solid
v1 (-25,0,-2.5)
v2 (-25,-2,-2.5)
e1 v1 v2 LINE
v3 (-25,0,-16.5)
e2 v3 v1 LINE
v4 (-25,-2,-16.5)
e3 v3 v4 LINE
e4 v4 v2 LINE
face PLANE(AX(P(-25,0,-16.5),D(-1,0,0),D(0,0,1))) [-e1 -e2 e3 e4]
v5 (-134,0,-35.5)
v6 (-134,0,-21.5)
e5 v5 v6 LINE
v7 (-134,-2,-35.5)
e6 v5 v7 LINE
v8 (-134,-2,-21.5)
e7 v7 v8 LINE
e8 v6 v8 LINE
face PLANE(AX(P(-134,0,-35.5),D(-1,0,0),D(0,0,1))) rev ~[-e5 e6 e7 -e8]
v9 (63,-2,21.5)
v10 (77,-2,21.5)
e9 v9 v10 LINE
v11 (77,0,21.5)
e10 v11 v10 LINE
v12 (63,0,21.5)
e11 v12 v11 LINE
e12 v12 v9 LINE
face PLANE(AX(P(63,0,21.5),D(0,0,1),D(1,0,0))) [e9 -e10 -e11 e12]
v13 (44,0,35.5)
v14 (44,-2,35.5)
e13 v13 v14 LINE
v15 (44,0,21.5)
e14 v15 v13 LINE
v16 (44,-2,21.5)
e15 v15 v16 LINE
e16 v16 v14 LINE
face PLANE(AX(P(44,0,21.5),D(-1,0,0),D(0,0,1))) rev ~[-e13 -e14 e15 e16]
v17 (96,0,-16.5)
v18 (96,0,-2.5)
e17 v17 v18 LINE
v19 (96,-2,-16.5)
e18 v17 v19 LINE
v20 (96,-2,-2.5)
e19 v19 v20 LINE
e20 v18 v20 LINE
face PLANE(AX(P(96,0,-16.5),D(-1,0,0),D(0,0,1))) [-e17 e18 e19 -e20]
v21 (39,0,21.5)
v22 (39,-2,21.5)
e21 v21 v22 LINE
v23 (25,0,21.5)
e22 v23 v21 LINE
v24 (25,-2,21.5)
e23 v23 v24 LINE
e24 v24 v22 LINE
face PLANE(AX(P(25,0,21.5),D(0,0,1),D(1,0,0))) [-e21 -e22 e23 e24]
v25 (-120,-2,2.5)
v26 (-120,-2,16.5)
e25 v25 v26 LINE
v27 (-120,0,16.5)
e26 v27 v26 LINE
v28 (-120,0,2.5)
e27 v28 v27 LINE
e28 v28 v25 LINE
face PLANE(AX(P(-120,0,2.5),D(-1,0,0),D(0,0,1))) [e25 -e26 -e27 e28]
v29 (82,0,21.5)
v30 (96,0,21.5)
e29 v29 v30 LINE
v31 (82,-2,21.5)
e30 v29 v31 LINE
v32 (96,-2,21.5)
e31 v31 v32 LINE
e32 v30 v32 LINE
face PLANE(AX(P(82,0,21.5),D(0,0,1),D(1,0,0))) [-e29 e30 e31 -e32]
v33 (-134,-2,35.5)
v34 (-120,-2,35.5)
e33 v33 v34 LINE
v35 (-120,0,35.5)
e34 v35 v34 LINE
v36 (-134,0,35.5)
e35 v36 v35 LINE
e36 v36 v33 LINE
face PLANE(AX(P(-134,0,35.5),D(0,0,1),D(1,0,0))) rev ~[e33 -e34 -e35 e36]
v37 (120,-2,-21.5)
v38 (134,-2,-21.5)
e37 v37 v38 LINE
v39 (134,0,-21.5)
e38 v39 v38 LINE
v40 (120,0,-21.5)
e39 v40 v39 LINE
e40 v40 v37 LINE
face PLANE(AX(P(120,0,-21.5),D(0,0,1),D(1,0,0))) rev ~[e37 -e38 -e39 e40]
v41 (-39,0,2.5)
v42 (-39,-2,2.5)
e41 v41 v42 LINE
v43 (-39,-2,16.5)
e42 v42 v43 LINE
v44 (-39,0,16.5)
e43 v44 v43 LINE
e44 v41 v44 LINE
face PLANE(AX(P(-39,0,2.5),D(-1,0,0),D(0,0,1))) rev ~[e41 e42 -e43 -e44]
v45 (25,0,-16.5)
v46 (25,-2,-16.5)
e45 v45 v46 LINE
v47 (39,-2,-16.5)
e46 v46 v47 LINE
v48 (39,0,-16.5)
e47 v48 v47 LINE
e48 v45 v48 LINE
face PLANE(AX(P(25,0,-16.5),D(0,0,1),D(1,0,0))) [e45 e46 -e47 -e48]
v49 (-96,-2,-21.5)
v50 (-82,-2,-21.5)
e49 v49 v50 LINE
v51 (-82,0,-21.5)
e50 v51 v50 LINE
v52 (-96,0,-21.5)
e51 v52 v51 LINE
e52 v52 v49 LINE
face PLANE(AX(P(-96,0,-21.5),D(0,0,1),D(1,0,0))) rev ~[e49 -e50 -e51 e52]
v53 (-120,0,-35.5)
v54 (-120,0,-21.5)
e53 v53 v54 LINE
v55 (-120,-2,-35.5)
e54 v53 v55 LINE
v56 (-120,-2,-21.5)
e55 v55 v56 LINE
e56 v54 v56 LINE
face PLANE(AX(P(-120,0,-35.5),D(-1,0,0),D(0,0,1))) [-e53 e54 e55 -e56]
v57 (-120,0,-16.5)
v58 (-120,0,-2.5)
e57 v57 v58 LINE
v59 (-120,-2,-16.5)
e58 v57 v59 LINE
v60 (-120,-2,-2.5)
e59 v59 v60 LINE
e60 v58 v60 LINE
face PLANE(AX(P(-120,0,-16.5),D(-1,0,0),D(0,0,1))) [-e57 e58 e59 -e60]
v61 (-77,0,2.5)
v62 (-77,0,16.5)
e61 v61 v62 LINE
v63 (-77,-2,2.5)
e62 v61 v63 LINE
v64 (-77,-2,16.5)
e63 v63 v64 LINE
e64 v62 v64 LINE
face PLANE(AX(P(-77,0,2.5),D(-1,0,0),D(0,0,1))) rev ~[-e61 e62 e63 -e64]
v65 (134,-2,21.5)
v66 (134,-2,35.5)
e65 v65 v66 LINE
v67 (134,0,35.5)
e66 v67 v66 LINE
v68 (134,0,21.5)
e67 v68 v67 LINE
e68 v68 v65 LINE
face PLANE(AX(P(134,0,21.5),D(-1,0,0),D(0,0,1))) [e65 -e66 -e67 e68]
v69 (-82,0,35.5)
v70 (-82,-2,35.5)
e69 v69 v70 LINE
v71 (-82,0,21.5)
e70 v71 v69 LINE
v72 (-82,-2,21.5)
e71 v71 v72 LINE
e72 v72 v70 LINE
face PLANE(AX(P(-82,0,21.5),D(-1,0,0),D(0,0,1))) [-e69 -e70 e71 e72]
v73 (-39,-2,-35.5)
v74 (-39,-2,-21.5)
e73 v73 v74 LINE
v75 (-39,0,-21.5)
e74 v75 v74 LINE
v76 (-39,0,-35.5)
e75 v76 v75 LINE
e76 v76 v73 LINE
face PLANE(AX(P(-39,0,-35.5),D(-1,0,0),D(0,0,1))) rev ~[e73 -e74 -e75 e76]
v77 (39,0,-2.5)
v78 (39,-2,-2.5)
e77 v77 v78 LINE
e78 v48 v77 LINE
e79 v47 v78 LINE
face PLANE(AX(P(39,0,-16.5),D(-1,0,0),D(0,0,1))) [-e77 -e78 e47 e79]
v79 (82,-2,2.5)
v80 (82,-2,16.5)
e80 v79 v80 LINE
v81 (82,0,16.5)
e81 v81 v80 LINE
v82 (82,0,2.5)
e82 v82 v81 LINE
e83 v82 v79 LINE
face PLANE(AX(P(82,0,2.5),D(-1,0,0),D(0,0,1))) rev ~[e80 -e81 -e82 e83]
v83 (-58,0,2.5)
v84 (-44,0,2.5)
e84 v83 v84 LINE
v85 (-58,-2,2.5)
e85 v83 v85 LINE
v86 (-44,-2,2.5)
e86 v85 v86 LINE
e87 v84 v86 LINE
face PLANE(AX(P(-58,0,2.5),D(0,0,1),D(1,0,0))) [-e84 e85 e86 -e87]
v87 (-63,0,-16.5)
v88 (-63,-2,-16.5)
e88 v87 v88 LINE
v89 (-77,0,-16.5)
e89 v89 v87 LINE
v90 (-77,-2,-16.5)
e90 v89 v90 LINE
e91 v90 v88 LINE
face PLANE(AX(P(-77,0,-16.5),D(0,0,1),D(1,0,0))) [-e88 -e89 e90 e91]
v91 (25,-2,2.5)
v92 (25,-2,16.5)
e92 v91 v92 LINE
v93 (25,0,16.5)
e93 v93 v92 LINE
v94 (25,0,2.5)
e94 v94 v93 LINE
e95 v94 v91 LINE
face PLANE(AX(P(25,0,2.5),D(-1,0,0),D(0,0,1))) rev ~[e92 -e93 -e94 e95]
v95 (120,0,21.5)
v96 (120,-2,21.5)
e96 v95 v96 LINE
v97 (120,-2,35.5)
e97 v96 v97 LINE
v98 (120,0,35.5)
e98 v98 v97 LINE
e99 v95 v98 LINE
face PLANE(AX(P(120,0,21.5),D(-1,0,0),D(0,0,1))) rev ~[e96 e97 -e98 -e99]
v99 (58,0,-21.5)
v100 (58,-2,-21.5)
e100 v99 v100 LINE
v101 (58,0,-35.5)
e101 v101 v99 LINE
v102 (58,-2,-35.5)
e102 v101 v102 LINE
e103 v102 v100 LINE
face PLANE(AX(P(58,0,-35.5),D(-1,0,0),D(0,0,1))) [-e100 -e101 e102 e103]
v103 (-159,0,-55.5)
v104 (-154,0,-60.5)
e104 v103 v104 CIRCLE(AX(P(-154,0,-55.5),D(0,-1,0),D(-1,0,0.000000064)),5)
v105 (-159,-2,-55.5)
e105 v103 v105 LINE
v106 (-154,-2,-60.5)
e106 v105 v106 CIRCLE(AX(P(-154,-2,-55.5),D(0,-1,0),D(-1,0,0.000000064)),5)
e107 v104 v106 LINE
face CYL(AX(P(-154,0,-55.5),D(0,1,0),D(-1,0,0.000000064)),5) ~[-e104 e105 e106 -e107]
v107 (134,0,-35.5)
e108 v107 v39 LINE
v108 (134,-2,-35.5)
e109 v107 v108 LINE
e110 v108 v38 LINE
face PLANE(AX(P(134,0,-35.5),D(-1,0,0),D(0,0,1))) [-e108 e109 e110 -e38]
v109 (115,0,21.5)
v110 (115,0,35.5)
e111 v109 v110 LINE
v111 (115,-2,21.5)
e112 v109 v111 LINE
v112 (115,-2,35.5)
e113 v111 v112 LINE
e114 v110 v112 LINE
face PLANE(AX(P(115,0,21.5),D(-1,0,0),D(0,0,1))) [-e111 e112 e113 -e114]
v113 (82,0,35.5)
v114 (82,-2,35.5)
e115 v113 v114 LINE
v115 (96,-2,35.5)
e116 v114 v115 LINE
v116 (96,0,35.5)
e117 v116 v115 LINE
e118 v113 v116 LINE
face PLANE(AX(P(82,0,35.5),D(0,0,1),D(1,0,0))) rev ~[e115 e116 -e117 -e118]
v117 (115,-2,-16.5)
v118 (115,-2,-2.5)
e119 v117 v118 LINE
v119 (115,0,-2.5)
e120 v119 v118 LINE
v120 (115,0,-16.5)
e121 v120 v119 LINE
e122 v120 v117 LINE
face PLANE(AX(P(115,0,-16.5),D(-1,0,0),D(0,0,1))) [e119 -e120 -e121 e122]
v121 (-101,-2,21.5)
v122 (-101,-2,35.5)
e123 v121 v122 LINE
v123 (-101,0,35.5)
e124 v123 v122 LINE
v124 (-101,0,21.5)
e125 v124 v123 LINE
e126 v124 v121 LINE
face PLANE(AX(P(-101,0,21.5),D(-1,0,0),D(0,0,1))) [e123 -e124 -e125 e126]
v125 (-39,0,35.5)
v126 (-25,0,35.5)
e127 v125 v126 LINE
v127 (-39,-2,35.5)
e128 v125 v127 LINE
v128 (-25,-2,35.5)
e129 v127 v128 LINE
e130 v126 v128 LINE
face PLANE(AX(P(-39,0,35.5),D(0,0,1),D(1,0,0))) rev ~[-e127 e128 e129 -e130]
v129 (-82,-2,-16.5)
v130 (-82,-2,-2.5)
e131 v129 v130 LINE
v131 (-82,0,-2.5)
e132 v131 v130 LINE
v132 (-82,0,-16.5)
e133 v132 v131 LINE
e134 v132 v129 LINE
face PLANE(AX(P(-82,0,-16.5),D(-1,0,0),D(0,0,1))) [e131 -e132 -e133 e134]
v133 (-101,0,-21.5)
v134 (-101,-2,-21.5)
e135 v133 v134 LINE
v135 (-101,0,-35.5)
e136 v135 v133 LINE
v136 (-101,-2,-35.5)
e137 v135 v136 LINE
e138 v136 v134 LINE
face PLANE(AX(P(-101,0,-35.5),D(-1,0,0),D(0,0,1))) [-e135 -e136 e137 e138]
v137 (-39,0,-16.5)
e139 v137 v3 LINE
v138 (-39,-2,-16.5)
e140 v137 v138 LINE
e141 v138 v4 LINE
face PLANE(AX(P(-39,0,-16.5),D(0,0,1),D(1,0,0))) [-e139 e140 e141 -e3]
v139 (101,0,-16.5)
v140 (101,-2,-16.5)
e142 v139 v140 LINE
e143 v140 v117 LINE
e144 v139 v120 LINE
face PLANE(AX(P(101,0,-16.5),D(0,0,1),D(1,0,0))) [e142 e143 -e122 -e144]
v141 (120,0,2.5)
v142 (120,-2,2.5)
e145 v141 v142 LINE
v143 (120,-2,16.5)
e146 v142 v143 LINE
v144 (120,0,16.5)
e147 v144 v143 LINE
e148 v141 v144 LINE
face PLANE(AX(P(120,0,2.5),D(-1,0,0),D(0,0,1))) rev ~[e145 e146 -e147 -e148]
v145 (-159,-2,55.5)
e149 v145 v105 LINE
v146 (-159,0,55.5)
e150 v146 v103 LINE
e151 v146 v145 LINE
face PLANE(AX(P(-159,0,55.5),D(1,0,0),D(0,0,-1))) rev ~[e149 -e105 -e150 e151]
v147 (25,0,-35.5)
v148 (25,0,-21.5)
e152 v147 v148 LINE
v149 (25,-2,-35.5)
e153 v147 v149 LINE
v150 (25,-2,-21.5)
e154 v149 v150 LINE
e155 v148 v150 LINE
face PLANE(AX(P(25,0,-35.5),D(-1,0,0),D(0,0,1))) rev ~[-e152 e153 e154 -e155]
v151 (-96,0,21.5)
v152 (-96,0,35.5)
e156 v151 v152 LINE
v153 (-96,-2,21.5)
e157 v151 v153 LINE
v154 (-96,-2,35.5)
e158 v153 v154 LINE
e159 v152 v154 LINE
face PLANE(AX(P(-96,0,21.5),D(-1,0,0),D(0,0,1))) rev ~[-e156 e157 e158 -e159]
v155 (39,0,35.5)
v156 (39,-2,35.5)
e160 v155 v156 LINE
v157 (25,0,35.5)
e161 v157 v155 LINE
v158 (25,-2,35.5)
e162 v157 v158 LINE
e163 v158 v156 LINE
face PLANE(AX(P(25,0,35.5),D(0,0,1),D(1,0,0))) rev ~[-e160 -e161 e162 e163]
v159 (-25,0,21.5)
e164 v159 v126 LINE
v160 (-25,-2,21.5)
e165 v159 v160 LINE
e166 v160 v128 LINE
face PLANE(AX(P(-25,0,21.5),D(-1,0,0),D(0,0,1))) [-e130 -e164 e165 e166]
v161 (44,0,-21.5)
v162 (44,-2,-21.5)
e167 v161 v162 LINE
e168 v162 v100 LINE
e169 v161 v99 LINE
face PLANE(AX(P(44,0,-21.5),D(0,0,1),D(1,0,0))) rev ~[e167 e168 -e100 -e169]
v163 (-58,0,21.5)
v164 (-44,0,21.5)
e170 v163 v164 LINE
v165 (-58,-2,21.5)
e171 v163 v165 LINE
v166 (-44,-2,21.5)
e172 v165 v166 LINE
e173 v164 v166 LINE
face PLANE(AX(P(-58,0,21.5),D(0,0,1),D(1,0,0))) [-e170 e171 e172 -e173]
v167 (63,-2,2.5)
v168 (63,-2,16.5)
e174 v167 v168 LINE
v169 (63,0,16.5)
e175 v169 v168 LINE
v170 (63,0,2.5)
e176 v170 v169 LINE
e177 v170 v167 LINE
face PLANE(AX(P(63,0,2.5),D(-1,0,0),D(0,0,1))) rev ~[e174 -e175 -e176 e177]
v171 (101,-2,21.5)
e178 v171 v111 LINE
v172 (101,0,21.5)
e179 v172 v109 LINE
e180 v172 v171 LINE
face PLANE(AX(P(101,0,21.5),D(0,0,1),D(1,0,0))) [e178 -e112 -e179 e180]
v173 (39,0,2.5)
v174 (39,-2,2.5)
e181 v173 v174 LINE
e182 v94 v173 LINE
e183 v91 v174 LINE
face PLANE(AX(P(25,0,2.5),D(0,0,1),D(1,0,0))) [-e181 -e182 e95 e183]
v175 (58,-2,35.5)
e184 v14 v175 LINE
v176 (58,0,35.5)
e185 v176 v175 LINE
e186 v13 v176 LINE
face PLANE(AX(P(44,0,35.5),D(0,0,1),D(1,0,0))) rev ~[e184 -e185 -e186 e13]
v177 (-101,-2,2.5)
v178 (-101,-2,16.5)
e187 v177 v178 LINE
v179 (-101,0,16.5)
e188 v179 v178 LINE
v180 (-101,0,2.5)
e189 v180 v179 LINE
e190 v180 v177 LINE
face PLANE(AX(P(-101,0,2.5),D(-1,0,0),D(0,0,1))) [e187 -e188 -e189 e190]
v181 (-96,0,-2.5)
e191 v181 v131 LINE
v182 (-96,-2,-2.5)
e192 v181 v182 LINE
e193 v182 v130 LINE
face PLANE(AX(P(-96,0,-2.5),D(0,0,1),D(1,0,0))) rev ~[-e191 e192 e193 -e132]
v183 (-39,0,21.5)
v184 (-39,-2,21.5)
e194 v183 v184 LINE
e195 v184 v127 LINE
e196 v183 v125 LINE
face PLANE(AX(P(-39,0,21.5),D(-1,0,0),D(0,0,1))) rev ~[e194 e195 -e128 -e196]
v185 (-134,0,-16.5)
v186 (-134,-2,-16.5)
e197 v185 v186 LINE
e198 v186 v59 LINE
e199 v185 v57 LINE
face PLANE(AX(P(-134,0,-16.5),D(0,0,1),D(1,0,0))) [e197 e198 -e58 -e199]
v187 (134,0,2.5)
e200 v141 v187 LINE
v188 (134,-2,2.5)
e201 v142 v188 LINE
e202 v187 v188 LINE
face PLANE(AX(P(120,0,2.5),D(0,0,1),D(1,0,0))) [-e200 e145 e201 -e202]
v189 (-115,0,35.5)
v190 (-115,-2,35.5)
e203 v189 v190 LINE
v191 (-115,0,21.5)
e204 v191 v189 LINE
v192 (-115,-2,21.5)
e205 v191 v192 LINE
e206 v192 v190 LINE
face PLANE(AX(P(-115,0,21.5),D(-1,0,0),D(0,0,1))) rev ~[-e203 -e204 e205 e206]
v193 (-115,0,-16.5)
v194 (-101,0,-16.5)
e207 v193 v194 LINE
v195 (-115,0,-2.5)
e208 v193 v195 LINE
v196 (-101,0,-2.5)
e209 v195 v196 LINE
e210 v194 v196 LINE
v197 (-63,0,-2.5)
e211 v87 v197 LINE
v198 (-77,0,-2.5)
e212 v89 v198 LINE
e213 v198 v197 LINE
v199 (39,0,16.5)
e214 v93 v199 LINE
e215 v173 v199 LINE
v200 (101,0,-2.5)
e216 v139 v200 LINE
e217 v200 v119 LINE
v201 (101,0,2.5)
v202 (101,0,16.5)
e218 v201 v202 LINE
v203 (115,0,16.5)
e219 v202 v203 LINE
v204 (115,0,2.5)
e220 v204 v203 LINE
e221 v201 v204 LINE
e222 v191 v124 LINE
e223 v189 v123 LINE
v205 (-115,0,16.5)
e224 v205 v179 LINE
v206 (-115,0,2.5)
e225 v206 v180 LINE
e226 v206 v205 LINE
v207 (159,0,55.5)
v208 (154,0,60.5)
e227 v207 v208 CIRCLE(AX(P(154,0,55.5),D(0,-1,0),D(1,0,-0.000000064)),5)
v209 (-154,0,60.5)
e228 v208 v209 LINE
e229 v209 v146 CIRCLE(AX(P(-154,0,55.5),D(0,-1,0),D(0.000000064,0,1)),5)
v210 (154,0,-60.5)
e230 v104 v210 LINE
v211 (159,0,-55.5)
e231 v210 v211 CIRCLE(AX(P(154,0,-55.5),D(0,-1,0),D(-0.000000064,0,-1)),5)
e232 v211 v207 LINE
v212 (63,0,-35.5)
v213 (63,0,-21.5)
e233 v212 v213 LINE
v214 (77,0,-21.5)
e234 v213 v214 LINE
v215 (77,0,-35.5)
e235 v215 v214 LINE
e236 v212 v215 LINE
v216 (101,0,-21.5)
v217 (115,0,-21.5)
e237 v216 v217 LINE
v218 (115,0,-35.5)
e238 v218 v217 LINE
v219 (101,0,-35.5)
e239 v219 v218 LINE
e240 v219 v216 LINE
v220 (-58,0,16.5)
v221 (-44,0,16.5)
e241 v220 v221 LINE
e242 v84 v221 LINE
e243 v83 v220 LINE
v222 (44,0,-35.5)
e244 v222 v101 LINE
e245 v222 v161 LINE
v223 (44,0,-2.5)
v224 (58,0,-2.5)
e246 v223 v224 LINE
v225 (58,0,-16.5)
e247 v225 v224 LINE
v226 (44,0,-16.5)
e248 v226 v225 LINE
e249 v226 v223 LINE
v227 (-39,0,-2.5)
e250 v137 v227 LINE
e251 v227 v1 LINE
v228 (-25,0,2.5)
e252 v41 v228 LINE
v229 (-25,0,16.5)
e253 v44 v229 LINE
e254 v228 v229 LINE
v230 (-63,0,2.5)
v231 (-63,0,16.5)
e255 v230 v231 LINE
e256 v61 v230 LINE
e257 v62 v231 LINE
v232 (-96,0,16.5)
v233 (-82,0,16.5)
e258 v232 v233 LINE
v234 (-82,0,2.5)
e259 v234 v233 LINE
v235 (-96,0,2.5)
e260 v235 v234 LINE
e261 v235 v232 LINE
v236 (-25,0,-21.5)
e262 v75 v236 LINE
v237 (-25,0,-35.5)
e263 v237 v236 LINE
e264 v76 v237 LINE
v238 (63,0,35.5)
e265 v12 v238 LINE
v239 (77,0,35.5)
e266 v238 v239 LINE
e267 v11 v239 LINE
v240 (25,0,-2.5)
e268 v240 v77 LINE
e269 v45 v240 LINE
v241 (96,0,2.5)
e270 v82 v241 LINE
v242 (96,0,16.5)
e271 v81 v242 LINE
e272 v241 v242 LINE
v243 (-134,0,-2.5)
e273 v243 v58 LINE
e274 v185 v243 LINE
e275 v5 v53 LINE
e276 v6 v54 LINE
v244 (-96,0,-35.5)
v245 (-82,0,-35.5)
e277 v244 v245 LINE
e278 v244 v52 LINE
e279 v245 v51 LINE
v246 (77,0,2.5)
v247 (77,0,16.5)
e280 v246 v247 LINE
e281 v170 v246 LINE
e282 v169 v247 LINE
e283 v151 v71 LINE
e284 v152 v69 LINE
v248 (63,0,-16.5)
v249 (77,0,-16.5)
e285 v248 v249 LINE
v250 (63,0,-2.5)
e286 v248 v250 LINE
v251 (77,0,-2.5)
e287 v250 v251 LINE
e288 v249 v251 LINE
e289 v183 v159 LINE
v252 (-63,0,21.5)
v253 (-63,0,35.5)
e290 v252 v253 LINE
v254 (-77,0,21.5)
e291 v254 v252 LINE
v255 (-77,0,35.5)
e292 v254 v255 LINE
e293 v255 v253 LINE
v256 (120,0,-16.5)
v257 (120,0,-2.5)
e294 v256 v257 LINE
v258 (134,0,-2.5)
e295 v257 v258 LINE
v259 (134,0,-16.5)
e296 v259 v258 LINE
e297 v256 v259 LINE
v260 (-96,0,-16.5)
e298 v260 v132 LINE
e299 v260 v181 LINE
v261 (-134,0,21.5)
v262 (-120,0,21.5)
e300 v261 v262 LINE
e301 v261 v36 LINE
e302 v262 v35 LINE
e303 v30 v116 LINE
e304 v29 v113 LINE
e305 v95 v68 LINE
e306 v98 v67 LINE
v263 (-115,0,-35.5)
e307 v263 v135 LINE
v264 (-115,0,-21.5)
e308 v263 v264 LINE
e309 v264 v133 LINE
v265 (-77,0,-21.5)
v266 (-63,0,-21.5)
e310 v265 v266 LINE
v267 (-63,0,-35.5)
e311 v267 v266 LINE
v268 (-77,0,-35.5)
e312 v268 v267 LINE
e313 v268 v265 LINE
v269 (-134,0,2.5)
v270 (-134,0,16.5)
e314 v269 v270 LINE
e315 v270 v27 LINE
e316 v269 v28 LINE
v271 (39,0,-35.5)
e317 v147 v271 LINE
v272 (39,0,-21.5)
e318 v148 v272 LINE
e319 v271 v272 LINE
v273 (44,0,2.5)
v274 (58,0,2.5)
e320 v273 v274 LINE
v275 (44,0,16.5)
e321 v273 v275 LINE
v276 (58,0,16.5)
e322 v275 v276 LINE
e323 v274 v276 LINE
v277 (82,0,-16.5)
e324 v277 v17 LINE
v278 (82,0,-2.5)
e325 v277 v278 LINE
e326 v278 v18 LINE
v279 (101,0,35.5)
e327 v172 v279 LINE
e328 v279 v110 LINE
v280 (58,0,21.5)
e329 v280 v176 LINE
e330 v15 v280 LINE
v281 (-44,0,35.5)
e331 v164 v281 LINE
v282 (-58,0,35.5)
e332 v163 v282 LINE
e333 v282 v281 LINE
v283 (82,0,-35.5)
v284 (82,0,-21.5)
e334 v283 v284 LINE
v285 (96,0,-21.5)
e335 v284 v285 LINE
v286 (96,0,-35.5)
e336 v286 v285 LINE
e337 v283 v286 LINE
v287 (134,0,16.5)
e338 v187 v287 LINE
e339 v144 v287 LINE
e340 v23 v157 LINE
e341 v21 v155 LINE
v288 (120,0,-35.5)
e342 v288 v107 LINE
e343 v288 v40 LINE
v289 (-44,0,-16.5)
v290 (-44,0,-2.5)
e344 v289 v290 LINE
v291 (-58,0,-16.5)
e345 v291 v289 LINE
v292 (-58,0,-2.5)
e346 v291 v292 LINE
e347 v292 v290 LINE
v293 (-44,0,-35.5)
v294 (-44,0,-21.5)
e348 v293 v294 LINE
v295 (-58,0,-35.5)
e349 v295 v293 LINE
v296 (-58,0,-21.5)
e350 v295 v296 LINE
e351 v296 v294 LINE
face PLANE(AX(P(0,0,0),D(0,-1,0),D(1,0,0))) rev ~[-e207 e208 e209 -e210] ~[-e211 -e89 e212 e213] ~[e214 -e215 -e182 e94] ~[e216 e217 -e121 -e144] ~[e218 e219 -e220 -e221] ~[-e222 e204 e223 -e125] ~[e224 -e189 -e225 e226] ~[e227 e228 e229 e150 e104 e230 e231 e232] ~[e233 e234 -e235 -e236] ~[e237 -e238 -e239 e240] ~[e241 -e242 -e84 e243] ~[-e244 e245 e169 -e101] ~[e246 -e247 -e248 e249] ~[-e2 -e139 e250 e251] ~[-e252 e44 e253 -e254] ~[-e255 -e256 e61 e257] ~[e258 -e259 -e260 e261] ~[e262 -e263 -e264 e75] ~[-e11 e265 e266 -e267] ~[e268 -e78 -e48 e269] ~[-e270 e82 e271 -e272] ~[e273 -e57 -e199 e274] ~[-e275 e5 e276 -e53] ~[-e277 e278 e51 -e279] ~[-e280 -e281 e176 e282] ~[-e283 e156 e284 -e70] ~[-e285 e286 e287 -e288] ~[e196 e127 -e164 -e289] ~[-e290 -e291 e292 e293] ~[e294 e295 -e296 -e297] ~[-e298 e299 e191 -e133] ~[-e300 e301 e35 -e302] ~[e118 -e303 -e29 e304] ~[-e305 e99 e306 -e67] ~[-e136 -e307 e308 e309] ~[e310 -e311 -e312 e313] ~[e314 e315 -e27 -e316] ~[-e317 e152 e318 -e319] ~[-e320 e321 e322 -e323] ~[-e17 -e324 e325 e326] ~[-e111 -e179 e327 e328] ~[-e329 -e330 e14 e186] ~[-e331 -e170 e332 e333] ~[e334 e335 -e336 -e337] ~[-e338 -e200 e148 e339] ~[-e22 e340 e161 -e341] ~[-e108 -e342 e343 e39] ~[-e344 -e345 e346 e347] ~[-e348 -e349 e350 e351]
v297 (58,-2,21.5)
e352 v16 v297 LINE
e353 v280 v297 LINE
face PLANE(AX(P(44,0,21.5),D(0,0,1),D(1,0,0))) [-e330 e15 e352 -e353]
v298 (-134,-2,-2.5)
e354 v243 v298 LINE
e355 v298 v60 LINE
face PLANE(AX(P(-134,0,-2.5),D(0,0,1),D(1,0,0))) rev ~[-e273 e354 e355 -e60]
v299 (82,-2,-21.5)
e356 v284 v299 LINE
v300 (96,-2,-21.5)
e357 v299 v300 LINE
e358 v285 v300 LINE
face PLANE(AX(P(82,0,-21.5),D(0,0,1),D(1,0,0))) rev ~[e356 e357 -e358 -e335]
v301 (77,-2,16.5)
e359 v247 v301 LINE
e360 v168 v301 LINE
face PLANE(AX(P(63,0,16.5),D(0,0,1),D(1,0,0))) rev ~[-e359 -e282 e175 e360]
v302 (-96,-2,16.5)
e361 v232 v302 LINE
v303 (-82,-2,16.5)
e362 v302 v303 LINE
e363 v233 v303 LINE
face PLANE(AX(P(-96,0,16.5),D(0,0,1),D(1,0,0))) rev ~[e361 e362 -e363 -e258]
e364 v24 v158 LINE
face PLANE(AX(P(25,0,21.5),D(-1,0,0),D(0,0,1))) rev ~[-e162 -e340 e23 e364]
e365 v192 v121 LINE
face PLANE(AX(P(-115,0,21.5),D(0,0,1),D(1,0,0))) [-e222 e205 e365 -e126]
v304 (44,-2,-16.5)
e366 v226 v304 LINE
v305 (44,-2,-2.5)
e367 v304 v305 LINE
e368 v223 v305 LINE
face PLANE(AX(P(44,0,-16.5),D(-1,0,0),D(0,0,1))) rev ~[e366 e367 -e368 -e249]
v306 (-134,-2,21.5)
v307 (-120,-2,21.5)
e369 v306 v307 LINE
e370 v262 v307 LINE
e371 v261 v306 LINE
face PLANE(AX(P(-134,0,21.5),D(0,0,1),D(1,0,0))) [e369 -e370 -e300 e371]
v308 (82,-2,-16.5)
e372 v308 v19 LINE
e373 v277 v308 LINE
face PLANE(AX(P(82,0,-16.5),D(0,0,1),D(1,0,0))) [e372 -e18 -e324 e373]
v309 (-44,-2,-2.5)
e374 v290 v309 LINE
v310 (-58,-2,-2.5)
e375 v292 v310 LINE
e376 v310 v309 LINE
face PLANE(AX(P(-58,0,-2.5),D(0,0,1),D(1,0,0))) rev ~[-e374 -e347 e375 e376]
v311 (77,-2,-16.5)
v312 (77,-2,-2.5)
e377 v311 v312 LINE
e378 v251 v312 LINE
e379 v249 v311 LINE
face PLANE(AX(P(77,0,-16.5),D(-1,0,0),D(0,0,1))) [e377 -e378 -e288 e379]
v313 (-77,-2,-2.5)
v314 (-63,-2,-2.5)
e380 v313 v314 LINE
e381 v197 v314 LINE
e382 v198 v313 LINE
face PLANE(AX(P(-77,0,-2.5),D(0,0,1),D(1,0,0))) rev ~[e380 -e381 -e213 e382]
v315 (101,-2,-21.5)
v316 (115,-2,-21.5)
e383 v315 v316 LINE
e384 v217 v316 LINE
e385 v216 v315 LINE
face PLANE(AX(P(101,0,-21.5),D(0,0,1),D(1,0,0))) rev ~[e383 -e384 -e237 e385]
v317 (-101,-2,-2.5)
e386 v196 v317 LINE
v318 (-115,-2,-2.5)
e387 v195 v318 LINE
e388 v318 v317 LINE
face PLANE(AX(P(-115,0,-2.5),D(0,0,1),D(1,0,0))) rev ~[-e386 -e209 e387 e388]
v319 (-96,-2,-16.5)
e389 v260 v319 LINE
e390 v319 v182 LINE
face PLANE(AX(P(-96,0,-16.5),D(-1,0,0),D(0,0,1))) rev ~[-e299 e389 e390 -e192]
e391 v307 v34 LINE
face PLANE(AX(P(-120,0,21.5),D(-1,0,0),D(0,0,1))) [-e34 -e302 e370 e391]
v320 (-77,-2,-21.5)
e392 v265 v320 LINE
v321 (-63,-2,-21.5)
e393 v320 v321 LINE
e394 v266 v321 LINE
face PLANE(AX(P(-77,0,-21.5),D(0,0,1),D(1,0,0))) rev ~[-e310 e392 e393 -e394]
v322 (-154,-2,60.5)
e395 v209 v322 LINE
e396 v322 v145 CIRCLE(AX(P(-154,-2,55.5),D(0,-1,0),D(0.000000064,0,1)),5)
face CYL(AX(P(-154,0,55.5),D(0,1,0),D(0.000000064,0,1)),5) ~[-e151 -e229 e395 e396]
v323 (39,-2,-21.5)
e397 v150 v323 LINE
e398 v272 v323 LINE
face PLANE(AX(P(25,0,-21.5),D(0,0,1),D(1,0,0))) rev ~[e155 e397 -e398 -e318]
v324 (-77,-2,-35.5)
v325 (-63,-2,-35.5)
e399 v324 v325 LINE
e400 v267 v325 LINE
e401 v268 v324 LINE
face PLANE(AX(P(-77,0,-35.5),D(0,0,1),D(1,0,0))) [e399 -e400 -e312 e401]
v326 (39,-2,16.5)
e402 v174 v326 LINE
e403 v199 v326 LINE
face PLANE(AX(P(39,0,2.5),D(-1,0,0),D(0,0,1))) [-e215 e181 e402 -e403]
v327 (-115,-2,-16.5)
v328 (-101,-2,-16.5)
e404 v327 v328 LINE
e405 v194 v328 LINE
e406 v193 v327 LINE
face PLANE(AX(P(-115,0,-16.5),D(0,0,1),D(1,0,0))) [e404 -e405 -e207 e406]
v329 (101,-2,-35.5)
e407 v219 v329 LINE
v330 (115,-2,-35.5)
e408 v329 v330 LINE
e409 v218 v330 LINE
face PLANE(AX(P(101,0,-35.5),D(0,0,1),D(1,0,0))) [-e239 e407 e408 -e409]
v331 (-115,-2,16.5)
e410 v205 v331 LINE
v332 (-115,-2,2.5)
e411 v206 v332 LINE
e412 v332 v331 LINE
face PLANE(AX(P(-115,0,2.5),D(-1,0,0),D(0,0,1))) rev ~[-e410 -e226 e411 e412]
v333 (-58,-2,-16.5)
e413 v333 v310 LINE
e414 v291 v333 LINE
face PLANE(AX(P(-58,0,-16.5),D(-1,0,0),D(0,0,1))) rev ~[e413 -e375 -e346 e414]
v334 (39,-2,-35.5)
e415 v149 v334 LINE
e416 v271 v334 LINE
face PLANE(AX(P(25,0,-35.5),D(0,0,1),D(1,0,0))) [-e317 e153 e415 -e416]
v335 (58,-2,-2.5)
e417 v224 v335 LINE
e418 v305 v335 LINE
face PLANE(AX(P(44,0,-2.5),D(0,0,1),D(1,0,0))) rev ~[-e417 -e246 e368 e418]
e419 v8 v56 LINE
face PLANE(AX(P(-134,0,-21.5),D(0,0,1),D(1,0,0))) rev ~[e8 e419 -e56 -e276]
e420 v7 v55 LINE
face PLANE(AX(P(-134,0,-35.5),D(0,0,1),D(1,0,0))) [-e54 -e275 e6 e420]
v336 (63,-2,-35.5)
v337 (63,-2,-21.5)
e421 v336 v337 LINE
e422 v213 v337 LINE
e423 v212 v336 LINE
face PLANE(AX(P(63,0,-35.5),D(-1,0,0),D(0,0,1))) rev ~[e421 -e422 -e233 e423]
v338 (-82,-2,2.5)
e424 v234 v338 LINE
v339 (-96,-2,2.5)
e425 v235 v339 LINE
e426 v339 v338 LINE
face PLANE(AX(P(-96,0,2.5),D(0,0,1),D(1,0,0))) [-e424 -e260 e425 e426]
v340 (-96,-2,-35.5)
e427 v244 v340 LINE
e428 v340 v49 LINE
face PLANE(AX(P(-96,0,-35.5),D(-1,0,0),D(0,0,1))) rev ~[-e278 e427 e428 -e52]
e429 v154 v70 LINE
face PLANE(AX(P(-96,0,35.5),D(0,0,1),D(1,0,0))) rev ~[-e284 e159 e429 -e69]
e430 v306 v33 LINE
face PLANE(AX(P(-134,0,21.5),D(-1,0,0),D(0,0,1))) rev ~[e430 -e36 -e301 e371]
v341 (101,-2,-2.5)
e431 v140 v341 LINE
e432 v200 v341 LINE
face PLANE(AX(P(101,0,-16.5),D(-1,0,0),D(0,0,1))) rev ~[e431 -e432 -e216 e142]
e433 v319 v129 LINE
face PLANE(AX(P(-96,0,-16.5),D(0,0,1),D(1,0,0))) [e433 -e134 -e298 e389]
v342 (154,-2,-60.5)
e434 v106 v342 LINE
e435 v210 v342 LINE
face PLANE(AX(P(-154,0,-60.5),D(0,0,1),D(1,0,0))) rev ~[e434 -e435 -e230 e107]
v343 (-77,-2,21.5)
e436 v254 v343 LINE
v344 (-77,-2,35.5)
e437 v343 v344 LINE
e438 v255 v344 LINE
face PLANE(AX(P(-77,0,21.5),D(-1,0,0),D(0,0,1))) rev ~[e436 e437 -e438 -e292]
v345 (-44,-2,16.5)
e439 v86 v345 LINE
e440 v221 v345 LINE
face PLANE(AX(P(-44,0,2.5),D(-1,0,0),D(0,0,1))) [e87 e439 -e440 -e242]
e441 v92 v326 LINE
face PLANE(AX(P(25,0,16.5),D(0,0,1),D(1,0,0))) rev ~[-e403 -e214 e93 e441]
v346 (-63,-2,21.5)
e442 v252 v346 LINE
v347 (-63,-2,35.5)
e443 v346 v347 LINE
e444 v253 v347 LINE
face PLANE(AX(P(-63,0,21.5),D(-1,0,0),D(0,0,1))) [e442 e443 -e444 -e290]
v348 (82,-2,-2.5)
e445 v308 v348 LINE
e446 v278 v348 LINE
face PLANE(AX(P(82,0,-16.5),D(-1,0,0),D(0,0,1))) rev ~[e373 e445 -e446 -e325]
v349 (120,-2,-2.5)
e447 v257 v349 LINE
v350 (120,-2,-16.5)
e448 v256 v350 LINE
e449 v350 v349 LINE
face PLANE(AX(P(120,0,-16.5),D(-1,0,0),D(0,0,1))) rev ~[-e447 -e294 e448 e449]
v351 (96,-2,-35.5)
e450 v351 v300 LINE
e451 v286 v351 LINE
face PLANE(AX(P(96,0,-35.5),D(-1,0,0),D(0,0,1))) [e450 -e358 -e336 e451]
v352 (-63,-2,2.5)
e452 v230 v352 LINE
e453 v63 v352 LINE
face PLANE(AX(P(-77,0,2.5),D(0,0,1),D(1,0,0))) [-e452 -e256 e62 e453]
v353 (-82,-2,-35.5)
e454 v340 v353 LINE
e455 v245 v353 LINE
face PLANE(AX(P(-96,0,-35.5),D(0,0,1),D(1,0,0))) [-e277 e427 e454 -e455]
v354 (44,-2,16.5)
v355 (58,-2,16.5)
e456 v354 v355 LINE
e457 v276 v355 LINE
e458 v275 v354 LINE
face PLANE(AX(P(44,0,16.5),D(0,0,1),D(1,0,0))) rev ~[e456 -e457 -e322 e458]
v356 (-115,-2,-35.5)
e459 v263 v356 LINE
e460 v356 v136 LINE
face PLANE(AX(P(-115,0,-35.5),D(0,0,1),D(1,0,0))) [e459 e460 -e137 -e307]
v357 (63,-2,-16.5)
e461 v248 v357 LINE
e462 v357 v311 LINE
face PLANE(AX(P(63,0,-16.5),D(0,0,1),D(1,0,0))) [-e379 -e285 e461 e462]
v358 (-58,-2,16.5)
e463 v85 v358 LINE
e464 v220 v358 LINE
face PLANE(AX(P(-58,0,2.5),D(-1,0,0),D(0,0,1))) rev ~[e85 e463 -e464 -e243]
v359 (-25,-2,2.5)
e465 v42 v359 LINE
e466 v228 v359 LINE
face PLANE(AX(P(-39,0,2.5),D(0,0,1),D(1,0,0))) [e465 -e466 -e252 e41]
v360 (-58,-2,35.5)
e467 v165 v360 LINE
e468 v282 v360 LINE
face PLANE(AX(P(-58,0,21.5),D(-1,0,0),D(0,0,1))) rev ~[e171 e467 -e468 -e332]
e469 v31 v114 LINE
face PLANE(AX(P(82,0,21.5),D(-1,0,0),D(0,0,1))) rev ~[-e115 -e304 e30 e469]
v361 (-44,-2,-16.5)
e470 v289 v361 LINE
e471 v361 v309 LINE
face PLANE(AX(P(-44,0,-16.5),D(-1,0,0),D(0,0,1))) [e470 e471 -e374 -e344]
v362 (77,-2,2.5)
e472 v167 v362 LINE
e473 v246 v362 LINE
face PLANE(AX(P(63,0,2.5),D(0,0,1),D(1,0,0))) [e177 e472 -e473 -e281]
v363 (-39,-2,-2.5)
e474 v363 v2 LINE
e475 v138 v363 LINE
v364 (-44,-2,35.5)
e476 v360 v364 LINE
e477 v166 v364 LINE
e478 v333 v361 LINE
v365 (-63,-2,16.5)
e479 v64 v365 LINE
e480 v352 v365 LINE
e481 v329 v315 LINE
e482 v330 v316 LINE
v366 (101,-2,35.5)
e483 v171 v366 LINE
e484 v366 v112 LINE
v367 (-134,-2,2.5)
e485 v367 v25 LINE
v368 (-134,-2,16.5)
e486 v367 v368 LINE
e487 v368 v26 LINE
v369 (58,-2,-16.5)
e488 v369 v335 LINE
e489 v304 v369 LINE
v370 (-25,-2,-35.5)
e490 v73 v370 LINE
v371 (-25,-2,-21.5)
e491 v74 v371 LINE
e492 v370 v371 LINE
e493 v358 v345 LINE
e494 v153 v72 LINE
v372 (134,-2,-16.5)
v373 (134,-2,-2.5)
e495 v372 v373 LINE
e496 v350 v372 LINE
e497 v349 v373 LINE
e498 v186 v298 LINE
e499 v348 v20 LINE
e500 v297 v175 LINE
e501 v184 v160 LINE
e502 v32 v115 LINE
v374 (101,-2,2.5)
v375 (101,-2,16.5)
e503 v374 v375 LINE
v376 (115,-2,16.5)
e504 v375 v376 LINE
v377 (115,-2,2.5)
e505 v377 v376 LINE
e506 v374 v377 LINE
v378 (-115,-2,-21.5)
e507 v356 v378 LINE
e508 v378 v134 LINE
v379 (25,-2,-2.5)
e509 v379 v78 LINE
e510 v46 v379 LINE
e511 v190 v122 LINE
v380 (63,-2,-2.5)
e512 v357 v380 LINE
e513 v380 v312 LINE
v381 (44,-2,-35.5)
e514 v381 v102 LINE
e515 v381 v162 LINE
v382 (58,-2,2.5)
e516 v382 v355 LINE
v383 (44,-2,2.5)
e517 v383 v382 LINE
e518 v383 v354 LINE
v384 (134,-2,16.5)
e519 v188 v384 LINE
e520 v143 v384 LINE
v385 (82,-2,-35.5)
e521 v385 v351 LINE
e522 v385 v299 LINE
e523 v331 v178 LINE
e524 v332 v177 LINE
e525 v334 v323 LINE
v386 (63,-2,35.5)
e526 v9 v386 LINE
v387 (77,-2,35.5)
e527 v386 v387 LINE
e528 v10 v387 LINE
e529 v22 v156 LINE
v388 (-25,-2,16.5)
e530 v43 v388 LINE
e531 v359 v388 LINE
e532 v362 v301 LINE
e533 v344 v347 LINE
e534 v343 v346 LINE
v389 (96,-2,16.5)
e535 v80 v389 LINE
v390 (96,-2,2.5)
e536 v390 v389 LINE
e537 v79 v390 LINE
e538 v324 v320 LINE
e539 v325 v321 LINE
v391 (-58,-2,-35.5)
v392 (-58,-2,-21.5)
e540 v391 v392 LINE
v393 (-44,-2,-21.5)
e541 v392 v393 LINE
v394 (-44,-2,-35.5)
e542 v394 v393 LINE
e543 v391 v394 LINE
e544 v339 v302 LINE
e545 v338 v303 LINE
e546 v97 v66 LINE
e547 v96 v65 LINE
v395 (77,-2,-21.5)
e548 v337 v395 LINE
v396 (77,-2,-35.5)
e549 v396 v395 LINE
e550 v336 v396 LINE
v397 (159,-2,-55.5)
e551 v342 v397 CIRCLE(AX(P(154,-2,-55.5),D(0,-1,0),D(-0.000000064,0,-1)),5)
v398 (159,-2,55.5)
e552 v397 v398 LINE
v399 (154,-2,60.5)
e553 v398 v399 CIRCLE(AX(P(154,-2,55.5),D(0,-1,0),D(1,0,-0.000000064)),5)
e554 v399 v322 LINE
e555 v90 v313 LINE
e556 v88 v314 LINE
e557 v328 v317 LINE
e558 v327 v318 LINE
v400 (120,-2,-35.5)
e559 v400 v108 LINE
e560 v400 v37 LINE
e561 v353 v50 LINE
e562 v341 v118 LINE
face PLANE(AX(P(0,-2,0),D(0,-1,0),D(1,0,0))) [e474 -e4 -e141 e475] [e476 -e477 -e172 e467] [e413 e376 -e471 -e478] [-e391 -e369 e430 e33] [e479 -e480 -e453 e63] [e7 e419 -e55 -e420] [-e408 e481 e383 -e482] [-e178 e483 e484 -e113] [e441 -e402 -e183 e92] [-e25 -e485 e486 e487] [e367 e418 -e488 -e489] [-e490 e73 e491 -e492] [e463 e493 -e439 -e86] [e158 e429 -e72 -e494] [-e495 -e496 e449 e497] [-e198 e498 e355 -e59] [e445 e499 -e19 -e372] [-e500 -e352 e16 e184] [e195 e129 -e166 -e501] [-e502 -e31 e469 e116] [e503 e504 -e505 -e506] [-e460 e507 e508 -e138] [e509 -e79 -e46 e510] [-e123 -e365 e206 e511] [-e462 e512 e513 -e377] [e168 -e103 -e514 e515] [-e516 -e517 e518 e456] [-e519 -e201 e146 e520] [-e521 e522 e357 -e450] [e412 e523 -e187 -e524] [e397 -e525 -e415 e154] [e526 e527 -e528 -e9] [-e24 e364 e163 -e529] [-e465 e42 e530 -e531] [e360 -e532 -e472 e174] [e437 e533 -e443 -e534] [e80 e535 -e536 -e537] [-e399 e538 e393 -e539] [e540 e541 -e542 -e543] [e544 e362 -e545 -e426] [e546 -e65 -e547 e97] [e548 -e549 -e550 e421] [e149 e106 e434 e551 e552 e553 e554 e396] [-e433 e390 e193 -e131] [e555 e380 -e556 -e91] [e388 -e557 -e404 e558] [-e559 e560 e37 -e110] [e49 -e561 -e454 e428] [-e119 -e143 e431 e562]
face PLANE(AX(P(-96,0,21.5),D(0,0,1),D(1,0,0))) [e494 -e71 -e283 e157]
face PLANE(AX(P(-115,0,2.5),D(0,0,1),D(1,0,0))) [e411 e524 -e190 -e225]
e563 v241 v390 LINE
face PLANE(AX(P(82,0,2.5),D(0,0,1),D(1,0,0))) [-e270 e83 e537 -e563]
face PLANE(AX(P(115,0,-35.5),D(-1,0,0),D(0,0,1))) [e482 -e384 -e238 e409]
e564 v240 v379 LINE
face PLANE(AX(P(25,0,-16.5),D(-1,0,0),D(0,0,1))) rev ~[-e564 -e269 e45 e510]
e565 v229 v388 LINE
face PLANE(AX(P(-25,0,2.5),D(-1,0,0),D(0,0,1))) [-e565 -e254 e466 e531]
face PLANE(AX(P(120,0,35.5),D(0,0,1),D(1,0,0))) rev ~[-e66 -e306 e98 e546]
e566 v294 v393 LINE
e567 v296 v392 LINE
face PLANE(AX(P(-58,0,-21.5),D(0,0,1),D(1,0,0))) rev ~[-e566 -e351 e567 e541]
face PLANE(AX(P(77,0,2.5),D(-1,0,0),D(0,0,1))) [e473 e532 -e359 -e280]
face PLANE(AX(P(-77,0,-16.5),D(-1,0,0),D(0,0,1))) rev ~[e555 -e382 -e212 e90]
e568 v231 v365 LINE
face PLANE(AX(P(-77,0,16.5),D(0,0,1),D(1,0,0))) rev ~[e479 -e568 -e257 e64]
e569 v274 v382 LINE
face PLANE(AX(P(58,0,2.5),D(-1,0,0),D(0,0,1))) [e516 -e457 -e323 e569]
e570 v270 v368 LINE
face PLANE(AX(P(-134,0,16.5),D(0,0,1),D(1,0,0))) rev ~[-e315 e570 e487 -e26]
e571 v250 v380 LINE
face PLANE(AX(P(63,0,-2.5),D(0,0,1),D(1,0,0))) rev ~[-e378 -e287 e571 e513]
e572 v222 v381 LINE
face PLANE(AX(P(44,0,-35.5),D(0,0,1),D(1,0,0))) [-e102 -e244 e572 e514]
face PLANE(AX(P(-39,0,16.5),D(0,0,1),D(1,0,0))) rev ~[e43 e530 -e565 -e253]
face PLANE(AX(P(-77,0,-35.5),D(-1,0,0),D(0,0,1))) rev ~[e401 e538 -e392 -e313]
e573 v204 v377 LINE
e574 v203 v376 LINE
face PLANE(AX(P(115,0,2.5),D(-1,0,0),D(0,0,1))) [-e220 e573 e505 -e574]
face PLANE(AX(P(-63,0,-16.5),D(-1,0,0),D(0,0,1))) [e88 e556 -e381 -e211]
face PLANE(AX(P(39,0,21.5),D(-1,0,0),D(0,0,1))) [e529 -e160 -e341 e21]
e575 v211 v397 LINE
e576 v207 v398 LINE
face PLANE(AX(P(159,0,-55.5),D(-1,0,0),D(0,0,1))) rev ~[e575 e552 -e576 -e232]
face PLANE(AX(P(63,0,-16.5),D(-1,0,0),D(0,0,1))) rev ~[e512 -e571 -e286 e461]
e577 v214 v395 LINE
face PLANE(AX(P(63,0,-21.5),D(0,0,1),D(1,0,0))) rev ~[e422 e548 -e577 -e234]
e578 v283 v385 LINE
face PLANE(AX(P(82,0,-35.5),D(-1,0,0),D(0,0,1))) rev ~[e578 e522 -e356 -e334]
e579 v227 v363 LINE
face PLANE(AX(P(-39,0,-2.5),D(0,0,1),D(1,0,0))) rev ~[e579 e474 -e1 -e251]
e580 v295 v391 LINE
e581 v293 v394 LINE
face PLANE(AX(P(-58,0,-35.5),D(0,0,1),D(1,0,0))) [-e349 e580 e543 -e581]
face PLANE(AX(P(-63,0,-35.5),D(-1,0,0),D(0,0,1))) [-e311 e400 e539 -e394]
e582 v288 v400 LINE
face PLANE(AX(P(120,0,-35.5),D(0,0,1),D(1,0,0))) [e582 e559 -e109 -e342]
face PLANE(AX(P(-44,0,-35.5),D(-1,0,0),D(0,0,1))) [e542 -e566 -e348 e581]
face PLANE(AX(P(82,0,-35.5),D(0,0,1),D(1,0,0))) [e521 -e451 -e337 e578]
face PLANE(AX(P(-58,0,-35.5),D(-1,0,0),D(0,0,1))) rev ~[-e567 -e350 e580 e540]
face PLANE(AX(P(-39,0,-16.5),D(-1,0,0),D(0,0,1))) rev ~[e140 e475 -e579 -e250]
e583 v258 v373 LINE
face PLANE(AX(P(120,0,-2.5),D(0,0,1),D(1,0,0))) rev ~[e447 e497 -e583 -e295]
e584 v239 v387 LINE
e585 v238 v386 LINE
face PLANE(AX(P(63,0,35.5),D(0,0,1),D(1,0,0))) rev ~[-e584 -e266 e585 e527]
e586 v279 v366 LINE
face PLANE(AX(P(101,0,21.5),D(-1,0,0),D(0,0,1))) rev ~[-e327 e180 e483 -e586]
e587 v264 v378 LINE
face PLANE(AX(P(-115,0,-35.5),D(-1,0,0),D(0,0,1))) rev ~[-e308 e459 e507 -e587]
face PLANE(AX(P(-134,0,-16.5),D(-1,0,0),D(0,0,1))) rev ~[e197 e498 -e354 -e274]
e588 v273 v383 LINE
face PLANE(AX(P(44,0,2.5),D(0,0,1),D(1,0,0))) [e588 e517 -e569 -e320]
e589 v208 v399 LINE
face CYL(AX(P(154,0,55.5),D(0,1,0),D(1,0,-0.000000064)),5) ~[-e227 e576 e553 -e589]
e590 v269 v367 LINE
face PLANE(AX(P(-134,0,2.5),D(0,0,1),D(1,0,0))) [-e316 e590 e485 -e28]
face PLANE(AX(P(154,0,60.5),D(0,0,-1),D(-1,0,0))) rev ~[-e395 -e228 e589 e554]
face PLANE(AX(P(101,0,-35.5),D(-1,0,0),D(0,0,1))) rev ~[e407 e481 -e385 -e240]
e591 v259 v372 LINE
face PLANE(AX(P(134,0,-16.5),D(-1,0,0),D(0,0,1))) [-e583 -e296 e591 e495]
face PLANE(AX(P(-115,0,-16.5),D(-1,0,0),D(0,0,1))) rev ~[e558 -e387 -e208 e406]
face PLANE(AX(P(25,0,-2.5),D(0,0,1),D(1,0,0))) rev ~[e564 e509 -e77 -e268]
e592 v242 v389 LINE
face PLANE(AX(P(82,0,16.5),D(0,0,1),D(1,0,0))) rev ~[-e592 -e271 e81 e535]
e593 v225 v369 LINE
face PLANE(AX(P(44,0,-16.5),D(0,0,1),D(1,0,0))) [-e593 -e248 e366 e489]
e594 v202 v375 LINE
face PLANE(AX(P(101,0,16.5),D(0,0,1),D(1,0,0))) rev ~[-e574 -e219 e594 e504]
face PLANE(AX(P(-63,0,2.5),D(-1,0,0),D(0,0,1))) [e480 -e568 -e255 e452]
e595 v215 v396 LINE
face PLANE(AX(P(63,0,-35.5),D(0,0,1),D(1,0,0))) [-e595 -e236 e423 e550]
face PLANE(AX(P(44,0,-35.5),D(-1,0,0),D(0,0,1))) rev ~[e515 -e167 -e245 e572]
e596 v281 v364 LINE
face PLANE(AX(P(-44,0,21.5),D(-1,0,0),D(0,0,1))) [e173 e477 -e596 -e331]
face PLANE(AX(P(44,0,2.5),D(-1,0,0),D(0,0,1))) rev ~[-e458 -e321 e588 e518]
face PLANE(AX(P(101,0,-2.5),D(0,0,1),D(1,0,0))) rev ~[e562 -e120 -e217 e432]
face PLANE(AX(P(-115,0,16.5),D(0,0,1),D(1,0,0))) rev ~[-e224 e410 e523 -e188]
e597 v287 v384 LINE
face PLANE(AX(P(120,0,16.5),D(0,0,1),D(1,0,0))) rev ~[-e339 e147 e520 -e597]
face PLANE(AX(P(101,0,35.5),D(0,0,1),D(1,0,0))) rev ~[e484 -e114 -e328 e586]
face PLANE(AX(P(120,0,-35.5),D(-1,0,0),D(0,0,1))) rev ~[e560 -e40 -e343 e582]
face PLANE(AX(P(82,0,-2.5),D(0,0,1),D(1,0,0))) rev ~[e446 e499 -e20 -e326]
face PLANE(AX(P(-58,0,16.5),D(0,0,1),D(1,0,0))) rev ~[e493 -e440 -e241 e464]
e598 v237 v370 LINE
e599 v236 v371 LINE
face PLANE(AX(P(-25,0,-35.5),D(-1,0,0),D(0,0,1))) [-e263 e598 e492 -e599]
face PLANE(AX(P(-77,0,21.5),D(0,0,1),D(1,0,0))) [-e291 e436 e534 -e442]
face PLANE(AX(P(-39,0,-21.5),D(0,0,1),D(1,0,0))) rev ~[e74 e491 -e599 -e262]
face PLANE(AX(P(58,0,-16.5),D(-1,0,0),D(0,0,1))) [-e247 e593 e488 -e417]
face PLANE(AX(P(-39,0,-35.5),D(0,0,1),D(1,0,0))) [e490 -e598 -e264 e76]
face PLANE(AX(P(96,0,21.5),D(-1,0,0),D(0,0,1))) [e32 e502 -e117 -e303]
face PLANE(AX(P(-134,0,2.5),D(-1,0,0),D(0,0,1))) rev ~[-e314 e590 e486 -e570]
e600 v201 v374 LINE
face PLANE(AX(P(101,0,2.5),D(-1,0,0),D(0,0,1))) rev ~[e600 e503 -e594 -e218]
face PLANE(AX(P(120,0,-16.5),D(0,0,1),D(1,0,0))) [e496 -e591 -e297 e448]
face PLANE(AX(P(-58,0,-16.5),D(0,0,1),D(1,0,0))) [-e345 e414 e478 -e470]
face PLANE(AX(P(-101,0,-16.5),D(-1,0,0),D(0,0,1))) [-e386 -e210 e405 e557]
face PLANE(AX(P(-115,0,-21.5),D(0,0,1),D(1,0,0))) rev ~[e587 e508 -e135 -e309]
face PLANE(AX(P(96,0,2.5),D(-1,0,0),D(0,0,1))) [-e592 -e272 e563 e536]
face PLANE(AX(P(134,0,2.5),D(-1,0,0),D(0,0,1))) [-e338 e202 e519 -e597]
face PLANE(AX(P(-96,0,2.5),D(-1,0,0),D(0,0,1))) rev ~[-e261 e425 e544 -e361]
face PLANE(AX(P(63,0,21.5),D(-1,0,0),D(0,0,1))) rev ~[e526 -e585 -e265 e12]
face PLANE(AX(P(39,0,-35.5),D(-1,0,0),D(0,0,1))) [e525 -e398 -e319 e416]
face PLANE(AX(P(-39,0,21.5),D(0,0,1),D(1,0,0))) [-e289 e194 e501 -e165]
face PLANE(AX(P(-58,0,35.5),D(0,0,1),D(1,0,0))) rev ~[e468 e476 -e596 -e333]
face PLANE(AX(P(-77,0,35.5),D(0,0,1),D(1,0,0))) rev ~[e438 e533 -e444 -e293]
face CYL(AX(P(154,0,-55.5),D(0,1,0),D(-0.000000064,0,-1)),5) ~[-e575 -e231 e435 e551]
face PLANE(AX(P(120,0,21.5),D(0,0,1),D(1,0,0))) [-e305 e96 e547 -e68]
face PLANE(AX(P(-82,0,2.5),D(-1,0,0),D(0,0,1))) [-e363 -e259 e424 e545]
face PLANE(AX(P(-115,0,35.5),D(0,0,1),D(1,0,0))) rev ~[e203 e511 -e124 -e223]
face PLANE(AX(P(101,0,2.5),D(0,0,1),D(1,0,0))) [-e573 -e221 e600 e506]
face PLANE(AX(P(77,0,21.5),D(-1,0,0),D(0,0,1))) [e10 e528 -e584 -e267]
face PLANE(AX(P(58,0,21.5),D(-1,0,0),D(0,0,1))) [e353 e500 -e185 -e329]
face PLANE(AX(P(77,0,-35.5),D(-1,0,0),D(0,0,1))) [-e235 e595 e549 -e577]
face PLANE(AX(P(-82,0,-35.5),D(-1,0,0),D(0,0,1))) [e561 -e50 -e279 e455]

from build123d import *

# Parameters (mm, degrees)
F0_W     = 14
F0_H     = 14
F1_DEPTH = 2


with BuildPart() as f1:
    # F0 (on Front) → F1 (new body)
    with BuildSketch(Plane.XZ):
        with BuildLine():
            Line((154, 60.5), (-154, 60.5))
            ThreePointArc((-154, 60.5), (-157.535534, 59.035534), (-159, 55.5))
            Line((-159, 55.5), (-159, -55.5))
            ThreePointArc((-159, -55.5), (-157.535534, -59.035534), (-154, -60.5))
            Line((-154, -60.5), (154, -60.5))
            ThreePointArc((154, -60.5), (157.535534, -59.035534), (159, -55.5))
            Line((159, -55.5), (159, 55.5))
            ThreePointArc((159, 55.5), (157.535534, 59.035534), (154, 60.5))
        make_face()
        with Locations((-127, -28.5)):
            Rectangle(F0_W, F0_H, mode=Mode.SUBTRACT)
        with Locations((-108, -28.5)):
            Rectangle(F0_W, F0_H, mode=Mode.SUBTRACT)
        with Locations((-89, -28.5)):
            Rectangle(F0_W, F0_H, mode=Mode.SUBTRACT)
        with Locations((-127, -9.5)):
            Rectangle(F0_W, F0_H, mode=Mode.SUBTRACT)
        with Locations((-108, -9.5)):
            Rectangle(F0_W, F0_H, mode=Mode.SUBTRACT)
        with Locations((-89, -9.5)):
            Rectangle(F0_W, F0_H, mode=Mode.SUBTRACT)
        with Locations((-70, -28.5)):
            Rectangle(F0_W, F0_H, mode=Mode.SUBTRACT)
        with Locations((-51, -28.5)):
            Rectangle(F0_W, F0_H, mode=Mode.SUBTRACT)
        with Locations((-32, -28.5)):
            Rectangle(F0_W, F0_H, mode=Mode.SUBTRACT)
        with Locations((-70, -9.5)):
            Rectangle(F0_W, F0_H, mode=Mode.SUBTRACT)
        with Locations((-51, -9.5)):
            Rectangle(F0_W, F0_H, mode=Mode.SUBTRACT)
        with Locations((-32, -9.5)):
            Rectangle(F0_W, F0_H, mode=Mode.SUBTRACT)
        with Locations((32, -28.5)):
            Rectangle(F0_W, F0_H, mode=Mode.SUBTRACT)
        with Locations((51, -28.5)):
            Rectangle(F0_W, F0_H, mode=Mode.SUBTRACT)
        with Locations((70, -28.5)):
            Rectangle(F0_W, F0_H, mode=Mode.SUBTRACT)
        with Locations((32, -9.5)):
            Rectangle(F0_W, F0_H, mode=Mode.SUBTRACT)
        with Locations((51, -9.5)):
            Rectangle(F0_W, F0_H, mode=Mode.SUBTRACT)
        with Locations((70, -9.5)):
            Rectangle(F0_W, F0_H, mode=Mode.SUBTRACT)
        with Locations((89, -28.5)):
            Rectangle(F0_W, F0_H, mode=Mode.SUBTRACT)
        with Locations((108, -28.5)):
            Rectangle(F0_W, F0_H, mode=Mode.SUBTRACT)
        with Locations((127, -28.5)):
            Rectangle(F0_W, F0_H, mode=Mode.SUBTRACT)
        with Locations((89, -9.5)):
            Rectangle(F0_W, F0_H, mode=Mode.SUBTRACT)
        with Locations((108, -9.5)):
            Rectangle(F0_W, F0_H, mode=Mode.SUBTRACT)
        with Locations((127, -9.5)):
            Rectangle(F0_W, F0_H, mode=Mode.SUBTRACT)
        with Locations((-127, 9.5)):
            Rectangle(F0_W, F0_H, mode=Mode.SUBTRACT)
        with Locations((-108, 9.5)):
            Rectangle(F0_W, F0_H, mode=Mode.SUBTRACT)
        with Locations((-89, 9.5)):
            Rectangle(F0_W, F0_H, mode=Mode.SUBTRACT)
        with Locations((-127, 28.5)):
            Rectangle(F0_W, F0_H, mode=Mode.SUBTRACT)
        with Locations((-108, 28.5)):
            Rectangle(F0_W, F0_H, mode=Mode.SUBTRACT)
        with Locations((-89, 28.5)):
            Rectangle(F0_W, F0_H, mode=Mode.SUBTRACT)
        with Locations((-70, 9.5)):
            Rectangle(F0_W, F0_H, mode=Mode.SUBTRACT)
        with Locations((-51, 9.5)):
            Rectangle(F0_W, F0_H, mode=Mode.SUBTRACT)
        with Locations((-32, 9.5)):
            Rectangle(F0_W, F0_H, mode=Mode.SUBTRACT)
        with Locations((-70, 28.5)):
            Rectangle(F0_W, F0_H, mode=Mode.SUBTRACT)
        with Locations((-51, 28.5)):
            Rectangle(F0_W, F0_H, mode=Mode.SUBTRACT)
        with Locations((-32, 28.5)):
            Rectangle(F0_W, F0_H, mode=Mode.SUBTRACT)
        with Locations((32, 9.5)):
            Rectangle(F0_W, F0_H, mode=Mode.SUBTRACT)
        with Locations((51, 9.5)):
            Rectangle(F0_W, F0_H, mode=Mode.SUBTRACT)
        with Locations((70, 9.5)):
            Rectangle(F0_W, F0_H, mode=Mode.SUBTRACT)
        with Locations((32, 28.5)):
            Rectangle(F0_W, F0_H, mode=Mode.SUBTRACT)
        with Locations((51, 28.5)):
            Rectangle(F0_W, F0_H, mode=Mode.SUBTRACT)
        with Locations((70, 28.5)):
            Rectangle(F0_W, F0_H, mode=Mode.SUBTRACT)
        with Locations((89, 9.5)):
            Rectangle(F0_W, F0_H, mode=Mode.SUBTRACT)
        with Locations((108, 9.5)):
            Rectangle(F0_W, F0_H, mode=Mode.SUBTRACT)
        with Locations((127, 9.5)):
            Rectangle(F0_W, F0_H, mode=Mode.SUBTRACT)
        with Locations((89, 28.5)):
            Rectangle(F0_W, F0_H, mode=Mode.SUBTRACT)
        with Locations((108, 28.5)):
            Rectangle(F0_W, F0_H, mode=Mode.SUBTRACT)
        with Locations((127, 28.5)):
            Rectangle(F0_W, F0_H, mode=Mode.SUBTRACT)
    extrude(amount=F1_DEPTH)


solid = f1.part
